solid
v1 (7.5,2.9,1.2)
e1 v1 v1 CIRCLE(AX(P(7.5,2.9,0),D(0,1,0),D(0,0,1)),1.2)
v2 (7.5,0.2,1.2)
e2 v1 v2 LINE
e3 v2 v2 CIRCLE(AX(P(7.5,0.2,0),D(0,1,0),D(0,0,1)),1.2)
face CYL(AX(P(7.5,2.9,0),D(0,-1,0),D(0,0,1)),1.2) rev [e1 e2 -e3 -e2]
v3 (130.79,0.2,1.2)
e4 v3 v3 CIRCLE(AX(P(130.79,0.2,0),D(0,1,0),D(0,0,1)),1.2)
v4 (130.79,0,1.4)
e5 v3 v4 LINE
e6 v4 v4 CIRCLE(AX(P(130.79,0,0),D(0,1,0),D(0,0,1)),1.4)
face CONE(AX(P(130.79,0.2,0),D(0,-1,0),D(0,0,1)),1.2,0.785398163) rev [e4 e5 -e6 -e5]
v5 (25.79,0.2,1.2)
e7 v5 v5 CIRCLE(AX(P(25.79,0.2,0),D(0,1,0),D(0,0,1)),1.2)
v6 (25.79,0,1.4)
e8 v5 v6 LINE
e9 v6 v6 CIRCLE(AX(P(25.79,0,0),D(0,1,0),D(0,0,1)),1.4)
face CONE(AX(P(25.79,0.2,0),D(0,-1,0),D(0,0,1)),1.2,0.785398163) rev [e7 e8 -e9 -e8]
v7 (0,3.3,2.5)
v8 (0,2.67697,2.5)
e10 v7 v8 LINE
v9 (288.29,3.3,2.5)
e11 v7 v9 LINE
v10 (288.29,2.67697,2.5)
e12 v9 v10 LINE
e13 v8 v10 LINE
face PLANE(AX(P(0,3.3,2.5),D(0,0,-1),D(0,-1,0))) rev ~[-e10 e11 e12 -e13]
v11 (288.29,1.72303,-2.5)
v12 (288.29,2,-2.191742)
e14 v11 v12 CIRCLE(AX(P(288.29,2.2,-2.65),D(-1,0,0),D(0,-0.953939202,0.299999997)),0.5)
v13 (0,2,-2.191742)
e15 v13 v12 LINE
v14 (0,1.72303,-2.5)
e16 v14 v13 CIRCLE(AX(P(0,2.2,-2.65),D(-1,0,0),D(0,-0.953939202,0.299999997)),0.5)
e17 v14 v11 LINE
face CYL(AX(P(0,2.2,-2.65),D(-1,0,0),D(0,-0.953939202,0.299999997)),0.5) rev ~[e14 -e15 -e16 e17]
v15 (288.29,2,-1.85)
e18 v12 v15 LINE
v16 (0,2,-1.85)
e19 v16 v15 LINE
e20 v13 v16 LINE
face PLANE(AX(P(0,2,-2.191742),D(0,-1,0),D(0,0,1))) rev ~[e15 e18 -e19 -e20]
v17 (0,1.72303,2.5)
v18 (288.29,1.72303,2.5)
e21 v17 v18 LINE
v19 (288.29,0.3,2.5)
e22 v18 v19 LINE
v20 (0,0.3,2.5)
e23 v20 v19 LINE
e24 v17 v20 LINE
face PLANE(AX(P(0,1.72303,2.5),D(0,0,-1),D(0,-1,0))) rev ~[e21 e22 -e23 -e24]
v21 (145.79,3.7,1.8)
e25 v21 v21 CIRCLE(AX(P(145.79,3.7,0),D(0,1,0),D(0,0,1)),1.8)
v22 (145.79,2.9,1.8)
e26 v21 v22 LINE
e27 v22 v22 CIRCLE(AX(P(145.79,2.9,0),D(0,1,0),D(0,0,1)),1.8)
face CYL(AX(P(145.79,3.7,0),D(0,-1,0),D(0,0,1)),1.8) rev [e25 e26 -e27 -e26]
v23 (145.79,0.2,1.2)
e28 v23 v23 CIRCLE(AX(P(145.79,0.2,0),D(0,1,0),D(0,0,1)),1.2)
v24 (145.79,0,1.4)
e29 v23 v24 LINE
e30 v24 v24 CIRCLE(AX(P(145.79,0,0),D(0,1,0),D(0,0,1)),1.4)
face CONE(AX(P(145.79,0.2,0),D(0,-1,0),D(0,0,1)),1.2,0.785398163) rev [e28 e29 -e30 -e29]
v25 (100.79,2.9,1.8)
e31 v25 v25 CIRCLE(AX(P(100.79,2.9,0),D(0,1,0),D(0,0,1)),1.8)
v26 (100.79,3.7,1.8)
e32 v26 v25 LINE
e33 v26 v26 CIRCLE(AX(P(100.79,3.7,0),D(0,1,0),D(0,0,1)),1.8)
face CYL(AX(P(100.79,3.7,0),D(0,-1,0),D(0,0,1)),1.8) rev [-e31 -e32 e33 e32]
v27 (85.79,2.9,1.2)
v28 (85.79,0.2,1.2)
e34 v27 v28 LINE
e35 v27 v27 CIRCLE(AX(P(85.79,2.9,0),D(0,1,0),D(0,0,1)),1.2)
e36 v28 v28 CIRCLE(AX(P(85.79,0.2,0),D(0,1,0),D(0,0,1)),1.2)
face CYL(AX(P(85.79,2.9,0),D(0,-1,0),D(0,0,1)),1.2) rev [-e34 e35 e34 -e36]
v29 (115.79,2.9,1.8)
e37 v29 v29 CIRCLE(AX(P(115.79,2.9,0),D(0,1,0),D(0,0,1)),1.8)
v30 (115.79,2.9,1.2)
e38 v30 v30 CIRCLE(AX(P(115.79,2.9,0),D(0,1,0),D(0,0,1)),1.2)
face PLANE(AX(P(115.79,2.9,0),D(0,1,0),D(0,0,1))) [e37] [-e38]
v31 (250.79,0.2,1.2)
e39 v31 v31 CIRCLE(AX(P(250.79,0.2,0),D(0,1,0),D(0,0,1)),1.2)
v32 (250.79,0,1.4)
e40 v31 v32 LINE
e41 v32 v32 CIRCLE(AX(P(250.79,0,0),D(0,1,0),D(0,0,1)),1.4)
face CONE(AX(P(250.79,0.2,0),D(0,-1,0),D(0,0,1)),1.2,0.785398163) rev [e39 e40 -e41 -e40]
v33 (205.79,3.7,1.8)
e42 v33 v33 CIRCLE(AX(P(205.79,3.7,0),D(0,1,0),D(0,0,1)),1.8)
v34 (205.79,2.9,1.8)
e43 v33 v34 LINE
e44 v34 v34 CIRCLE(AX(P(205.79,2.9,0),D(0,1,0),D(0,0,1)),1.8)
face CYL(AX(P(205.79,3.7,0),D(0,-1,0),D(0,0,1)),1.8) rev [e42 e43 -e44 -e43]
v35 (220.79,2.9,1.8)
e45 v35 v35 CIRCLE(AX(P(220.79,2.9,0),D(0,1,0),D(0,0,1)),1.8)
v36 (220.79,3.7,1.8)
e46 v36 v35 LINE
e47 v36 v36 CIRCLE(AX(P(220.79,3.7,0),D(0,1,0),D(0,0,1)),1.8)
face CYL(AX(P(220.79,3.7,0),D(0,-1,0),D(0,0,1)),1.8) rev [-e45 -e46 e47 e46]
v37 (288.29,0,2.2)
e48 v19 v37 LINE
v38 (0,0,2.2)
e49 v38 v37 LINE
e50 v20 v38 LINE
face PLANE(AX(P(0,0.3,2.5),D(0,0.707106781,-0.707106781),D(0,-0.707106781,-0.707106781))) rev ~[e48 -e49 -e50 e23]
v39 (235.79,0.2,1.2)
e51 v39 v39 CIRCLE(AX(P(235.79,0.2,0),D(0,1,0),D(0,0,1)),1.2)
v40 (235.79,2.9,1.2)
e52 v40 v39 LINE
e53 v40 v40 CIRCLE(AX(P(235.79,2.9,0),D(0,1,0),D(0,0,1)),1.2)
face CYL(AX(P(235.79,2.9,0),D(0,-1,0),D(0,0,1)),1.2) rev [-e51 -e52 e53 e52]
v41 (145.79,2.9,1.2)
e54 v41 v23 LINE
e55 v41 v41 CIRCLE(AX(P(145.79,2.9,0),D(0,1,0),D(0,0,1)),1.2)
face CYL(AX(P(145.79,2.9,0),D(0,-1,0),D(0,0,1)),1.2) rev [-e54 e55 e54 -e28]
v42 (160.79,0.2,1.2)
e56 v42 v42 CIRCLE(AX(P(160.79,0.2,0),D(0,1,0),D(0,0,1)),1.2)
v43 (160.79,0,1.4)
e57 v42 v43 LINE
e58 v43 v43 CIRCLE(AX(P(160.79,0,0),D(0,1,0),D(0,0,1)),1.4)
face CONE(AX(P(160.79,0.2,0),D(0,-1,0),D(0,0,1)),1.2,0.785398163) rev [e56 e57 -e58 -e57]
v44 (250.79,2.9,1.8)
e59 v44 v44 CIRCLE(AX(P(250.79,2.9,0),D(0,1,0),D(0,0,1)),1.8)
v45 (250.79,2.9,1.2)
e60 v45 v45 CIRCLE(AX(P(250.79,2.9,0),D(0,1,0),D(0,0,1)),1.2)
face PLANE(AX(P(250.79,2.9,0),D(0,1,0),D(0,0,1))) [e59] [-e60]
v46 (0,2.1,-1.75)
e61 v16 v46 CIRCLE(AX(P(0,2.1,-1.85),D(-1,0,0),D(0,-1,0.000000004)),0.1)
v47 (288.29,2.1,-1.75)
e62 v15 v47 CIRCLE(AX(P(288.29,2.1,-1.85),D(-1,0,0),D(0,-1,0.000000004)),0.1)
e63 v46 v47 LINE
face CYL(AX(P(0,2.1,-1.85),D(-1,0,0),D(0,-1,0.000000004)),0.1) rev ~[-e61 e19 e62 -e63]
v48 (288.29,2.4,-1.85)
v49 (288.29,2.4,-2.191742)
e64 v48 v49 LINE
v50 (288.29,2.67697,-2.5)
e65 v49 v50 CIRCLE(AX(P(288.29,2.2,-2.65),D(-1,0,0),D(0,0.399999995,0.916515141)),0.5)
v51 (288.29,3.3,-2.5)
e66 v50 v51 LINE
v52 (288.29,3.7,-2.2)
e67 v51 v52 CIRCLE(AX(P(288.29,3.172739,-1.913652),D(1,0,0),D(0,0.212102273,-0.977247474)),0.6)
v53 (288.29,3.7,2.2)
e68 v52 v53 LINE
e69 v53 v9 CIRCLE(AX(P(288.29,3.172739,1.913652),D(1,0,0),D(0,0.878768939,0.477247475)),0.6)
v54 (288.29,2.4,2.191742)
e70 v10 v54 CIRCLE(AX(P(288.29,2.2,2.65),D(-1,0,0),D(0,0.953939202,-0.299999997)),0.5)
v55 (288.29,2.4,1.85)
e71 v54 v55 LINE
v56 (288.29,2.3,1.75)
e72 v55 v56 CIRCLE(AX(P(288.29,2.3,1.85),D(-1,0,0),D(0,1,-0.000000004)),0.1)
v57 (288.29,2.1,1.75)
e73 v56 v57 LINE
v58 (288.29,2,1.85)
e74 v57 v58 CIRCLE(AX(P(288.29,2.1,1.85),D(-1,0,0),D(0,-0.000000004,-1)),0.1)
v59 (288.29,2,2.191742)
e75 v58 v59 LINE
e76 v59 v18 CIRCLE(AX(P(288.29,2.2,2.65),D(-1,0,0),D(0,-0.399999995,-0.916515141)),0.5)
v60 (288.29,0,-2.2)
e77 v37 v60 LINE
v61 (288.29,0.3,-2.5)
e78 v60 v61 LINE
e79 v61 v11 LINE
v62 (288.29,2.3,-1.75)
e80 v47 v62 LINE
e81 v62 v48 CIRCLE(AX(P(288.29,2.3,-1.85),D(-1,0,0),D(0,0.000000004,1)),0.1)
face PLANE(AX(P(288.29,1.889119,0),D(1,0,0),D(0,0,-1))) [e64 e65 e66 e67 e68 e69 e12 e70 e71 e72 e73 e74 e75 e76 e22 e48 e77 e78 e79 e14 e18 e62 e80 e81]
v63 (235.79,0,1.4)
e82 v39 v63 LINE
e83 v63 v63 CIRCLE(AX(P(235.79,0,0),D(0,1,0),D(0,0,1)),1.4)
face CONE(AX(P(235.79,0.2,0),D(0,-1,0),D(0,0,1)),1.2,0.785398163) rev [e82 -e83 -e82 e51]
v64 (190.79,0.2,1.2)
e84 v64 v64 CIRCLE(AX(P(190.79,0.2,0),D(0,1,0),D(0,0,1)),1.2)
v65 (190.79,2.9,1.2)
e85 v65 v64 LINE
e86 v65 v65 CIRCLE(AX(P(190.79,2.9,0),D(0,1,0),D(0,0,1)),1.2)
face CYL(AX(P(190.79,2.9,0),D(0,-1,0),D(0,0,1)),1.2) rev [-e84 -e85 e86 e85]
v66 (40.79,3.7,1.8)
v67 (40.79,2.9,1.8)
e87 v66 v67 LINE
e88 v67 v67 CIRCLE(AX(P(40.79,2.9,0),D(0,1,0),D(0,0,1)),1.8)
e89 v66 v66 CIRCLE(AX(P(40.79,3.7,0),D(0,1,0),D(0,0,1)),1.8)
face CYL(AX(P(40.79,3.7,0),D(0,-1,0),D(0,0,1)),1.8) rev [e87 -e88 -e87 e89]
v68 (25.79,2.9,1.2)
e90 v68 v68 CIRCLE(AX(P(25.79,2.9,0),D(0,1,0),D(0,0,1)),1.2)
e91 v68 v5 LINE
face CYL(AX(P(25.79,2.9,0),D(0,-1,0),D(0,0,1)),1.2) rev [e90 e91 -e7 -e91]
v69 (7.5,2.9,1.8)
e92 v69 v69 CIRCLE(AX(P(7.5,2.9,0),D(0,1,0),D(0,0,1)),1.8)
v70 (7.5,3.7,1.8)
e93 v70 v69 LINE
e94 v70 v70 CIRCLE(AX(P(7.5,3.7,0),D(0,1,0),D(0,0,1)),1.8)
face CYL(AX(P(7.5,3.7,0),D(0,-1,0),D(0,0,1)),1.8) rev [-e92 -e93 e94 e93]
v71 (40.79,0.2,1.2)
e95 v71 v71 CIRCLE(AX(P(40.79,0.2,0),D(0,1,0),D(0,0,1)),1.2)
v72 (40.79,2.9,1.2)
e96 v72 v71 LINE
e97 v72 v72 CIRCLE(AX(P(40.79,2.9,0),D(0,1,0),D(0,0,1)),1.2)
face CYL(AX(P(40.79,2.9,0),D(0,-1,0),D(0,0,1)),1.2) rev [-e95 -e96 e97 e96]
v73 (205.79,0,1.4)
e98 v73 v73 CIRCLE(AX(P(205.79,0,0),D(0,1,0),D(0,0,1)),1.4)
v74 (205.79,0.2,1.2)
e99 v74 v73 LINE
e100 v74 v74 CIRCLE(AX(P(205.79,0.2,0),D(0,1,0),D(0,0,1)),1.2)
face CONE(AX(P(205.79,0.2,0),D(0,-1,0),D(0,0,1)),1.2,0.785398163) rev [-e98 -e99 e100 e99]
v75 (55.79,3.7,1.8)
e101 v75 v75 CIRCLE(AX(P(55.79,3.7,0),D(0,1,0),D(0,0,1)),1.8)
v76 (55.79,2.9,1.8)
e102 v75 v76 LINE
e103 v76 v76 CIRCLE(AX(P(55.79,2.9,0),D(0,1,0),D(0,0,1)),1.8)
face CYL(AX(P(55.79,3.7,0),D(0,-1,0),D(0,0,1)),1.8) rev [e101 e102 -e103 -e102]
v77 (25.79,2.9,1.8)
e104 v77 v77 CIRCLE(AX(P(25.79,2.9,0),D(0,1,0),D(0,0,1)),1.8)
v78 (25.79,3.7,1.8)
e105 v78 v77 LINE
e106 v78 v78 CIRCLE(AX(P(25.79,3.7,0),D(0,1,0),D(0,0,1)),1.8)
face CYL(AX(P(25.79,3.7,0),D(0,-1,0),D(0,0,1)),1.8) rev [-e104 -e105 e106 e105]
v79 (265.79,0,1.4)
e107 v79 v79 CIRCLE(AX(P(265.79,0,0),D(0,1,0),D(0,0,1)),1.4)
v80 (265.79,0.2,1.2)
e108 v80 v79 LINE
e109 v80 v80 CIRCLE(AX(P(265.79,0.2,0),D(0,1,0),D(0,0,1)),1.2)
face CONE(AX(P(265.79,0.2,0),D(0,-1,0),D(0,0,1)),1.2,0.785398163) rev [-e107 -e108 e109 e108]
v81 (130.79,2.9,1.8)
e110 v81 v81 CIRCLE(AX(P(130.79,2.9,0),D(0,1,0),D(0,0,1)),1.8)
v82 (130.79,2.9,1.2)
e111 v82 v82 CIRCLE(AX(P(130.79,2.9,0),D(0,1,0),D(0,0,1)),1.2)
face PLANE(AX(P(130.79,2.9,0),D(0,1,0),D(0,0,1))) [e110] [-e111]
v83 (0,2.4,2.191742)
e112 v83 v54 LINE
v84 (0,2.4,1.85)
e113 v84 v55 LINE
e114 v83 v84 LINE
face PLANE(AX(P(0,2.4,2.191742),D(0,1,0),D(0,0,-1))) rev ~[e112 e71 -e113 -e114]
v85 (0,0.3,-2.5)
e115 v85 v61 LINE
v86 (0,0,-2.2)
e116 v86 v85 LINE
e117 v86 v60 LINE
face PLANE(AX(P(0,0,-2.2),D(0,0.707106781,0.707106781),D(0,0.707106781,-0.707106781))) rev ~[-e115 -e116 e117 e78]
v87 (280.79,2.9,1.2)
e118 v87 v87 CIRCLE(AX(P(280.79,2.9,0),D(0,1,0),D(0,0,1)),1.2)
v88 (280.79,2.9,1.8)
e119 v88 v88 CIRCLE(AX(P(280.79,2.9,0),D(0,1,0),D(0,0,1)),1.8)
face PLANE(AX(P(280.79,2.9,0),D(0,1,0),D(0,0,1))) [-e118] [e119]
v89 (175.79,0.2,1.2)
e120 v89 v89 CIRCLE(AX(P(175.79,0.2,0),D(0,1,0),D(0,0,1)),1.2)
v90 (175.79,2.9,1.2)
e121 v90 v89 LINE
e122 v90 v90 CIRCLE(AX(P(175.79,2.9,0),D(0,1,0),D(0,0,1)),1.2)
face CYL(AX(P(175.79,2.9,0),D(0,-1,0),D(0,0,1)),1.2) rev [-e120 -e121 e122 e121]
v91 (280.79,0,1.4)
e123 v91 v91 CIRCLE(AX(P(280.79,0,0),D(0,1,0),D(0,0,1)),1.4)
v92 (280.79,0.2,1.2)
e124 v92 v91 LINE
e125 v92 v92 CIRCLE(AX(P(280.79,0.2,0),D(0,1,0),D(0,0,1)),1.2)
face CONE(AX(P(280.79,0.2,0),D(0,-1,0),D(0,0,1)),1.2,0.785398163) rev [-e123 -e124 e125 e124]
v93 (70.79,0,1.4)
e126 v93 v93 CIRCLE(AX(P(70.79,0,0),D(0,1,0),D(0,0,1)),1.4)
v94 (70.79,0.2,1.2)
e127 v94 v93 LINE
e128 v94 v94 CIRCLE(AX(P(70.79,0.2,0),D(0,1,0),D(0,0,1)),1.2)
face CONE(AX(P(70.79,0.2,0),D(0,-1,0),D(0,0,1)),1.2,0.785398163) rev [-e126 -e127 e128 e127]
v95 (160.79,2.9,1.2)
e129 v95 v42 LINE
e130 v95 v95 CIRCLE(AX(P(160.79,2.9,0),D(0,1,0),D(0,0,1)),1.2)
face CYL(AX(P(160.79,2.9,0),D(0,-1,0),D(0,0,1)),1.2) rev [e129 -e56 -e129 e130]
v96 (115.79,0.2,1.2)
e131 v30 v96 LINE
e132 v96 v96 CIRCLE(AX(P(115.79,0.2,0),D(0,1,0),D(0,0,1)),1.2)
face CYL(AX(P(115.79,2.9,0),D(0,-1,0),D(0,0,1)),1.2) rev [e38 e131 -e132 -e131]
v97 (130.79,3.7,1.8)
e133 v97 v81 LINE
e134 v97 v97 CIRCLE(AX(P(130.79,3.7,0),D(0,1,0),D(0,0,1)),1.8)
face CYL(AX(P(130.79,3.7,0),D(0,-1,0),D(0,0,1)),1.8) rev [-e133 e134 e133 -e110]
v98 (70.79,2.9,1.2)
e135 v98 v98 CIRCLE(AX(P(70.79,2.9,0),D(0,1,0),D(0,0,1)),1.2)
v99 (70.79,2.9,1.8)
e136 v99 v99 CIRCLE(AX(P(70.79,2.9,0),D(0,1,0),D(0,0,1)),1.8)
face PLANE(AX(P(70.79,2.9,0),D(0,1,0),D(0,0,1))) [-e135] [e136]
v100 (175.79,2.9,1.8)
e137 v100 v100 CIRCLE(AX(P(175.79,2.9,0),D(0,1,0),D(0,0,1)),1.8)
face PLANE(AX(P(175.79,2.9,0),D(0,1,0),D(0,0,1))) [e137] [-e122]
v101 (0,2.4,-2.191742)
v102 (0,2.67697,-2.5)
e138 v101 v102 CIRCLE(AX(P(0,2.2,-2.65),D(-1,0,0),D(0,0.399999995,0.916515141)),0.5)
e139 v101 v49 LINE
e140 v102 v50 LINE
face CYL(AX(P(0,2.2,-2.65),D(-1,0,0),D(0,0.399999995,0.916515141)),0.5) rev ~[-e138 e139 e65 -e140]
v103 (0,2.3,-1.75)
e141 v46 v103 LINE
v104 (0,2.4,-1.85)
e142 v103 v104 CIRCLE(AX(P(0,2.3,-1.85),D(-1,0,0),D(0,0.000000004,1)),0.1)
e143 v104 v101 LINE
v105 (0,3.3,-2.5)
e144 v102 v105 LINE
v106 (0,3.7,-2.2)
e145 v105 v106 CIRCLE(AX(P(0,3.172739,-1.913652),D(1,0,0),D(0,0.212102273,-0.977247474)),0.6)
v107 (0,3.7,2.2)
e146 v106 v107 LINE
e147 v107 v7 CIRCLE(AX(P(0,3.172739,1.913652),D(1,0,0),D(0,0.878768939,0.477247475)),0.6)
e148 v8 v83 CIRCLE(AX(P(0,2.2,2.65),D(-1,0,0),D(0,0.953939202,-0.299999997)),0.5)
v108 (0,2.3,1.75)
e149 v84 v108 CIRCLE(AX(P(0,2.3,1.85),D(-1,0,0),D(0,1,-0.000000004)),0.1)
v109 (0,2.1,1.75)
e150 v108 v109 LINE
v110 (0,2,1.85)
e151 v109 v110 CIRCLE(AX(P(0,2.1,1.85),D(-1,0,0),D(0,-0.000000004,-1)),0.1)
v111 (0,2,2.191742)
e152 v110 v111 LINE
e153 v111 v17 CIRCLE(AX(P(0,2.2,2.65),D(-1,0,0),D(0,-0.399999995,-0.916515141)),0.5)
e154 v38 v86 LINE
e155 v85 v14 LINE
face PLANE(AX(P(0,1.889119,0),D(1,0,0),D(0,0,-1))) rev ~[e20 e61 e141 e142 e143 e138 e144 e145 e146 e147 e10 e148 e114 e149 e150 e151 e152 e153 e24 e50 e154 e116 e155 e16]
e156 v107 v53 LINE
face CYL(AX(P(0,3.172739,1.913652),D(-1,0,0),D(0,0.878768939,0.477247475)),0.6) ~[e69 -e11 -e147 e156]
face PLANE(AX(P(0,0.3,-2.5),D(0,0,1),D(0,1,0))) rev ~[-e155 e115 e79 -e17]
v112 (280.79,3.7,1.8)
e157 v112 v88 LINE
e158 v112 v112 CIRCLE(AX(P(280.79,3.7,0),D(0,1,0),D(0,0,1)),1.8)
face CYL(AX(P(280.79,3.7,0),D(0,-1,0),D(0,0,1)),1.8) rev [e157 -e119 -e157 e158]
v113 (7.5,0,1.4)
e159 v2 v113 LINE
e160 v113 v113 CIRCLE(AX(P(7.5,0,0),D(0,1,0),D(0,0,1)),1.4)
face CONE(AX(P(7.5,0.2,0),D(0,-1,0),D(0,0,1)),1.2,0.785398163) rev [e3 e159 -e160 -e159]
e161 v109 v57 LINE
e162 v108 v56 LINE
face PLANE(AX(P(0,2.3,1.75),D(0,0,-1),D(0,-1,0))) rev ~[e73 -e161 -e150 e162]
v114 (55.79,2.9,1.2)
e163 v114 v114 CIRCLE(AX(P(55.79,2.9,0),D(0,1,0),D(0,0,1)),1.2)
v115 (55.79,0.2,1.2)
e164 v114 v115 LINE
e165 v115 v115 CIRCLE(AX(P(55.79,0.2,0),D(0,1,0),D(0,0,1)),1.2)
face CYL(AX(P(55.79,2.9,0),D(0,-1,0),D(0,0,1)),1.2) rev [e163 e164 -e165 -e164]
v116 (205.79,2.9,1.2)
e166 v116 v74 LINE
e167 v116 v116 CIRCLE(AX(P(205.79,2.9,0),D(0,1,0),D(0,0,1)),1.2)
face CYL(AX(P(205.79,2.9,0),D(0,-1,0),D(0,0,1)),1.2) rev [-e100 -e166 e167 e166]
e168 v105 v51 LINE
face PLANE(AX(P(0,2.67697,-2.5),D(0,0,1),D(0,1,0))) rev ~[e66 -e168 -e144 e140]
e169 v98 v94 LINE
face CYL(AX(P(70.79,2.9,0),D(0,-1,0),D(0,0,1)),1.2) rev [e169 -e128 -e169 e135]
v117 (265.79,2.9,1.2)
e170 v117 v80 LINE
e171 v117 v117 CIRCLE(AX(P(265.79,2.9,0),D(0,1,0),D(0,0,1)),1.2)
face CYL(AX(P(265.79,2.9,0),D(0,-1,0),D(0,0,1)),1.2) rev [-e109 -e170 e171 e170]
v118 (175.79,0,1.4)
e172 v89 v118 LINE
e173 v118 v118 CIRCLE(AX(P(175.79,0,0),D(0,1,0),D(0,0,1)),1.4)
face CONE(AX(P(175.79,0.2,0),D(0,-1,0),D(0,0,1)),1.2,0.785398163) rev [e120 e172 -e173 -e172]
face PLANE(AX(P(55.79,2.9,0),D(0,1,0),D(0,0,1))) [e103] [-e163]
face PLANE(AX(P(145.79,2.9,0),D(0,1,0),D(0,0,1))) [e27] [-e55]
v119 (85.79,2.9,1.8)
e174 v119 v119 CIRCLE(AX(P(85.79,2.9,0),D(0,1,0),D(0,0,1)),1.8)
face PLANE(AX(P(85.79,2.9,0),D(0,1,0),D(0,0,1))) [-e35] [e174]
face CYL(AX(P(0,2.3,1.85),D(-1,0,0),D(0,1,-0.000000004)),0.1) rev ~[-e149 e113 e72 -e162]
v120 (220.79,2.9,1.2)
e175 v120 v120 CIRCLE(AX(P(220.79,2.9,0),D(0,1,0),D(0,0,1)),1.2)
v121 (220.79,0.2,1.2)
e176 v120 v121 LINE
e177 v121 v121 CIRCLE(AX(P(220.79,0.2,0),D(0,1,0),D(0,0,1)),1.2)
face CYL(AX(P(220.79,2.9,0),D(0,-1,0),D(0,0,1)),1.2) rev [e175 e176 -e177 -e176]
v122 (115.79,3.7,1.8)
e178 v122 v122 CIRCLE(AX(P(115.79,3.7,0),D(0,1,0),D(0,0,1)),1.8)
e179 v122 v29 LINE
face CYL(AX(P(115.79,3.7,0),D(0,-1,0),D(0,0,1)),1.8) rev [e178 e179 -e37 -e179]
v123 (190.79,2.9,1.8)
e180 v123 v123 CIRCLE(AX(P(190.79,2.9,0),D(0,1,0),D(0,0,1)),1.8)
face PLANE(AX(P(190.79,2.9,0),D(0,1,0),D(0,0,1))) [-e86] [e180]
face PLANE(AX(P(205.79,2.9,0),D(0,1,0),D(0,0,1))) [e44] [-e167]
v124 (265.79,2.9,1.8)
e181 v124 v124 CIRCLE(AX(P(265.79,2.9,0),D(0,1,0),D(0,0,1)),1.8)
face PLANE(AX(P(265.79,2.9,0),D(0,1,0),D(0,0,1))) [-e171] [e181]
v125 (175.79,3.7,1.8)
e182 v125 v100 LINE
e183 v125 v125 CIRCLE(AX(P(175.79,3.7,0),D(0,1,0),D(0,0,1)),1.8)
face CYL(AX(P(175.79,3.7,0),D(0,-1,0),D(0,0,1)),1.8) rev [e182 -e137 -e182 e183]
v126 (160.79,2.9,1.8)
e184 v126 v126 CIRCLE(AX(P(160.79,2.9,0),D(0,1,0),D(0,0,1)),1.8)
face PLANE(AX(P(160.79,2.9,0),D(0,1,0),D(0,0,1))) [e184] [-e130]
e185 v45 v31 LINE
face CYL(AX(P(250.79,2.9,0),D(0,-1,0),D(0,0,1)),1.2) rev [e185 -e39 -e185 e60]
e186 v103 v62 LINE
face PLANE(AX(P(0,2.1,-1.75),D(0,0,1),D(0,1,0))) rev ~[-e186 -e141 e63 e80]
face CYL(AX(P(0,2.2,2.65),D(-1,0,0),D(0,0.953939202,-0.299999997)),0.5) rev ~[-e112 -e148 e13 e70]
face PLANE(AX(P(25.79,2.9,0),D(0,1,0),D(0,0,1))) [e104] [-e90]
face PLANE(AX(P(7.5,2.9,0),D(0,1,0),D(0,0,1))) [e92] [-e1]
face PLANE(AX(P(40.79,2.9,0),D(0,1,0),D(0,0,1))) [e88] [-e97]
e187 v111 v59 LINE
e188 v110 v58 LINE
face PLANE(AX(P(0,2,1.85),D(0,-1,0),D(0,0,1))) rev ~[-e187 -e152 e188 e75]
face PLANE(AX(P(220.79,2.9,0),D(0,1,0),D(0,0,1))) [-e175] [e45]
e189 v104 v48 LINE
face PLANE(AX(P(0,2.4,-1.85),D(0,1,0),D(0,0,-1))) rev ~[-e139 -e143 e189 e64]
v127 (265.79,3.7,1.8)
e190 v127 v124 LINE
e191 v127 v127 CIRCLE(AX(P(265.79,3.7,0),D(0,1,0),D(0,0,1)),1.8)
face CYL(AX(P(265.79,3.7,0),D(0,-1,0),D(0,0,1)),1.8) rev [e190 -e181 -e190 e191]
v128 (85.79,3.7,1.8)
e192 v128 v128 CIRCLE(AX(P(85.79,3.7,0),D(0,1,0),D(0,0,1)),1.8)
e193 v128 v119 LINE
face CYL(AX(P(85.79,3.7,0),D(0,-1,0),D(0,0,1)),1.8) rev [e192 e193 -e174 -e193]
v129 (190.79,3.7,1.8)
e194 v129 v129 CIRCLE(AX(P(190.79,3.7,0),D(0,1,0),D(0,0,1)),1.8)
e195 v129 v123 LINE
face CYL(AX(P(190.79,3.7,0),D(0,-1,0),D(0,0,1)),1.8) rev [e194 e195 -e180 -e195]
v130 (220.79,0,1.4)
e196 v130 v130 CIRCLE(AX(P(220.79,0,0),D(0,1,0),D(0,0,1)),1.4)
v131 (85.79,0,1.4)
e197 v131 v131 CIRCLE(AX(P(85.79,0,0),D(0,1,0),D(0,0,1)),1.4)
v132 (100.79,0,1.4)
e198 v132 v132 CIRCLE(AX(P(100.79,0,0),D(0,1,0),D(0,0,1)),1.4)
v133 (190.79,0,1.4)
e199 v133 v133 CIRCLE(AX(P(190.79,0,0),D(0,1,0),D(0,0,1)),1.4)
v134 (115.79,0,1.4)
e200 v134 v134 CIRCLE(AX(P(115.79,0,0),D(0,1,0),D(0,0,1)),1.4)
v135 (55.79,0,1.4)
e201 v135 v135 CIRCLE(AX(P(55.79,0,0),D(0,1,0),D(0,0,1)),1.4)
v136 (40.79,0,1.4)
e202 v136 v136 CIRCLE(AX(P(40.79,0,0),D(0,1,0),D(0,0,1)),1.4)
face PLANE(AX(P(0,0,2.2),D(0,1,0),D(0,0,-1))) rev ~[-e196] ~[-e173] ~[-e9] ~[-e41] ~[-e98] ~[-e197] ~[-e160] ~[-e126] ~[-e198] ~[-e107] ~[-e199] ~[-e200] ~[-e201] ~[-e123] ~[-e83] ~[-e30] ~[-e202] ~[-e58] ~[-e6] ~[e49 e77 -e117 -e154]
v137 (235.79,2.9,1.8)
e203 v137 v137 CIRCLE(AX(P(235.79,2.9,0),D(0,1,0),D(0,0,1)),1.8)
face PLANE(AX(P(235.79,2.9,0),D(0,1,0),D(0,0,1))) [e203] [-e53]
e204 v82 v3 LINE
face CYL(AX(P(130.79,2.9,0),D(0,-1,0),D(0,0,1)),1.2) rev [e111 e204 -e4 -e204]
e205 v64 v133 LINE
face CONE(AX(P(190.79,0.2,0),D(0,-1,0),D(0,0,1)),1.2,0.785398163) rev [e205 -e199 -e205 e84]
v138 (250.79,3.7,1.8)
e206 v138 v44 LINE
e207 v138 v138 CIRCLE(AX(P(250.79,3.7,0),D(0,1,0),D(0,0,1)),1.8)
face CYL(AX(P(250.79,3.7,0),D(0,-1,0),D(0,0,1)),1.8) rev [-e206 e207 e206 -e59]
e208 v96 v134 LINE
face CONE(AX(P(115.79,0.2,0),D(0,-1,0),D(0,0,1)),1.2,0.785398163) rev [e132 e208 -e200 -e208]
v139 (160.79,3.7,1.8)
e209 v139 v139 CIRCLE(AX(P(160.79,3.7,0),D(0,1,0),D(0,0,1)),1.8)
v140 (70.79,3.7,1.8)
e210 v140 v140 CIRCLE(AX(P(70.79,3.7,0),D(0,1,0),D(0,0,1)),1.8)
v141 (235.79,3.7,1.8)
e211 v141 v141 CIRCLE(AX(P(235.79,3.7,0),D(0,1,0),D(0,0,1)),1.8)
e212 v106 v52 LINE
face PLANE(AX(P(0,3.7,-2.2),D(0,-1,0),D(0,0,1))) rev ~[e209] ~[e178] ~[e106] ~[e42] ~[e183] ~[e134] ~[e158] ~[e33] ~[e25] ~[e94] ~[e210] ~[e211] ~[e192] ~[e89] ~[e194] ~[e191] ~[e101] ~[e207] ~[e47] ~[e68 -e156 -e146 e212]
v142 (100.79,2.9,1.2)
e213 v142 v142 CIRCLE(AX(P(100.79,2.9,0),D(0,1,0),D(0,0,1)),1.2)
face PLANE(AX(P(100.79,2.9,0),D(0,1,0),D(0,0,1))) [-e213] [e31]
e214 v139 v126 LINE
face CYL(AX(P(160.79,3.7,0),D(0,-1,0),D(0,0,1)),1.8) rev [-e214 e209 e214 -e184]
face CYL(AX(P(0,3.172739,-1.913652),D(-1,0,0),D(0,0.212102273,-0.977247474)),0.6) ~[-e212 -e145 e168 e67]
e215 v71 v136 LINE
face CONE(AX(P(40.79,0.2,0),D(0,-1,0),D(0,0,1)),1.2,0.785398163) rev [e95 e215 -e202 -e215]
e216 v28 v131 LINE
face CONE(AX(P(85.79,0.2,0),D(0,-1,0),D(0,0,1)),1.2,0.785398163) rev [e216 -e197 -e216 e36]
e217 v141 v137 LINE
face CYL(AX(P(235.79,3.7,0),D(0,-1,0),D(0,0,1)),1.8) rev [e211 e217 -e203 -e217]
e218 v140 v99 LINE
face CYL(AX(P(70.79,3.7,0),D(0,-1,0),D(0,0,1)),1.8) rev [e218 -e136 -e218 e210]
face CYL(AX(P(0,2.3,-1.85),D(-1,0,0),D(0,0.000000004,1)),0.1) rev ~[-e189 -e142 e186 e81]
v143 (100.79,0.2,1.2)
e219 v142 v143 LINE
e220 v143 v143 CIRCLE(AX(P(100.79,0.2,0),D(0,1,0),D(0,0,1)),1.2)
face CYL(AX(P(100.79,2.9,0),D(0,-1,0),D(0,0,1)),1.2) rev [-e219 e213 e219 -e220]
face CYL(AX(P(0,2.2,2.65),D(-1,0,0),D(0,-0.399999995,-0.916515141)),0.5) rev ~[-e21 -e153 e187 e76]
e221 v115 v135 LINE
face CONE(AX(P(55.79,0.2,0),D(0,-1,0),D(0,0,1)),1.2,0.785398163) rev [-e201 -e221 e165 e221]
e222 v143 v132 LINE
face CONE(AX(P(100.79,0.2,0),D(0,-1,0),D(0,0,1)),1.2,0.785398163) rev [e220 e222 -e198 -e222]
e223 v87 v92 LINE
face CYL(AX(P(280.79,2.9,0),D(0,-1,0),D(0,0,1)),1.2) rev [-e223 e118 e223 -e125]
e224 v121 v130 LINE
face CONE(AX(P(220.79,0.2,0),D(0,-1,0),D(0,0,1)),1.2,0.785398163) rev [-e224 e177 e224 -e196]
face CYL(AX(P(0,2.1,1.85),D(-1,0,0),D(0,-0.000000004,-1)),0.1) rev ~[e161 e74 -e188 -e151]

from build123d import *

# Parameters (mm, degrees)
EXTRUDE1_DEPTH  = 288.29
LPATTERN1_COUNT = 18
LPATTERN1_PITCH = 15


with BuildPart() as part:
    # Sketch1 → Extrude1 (new body)
    with BuildSketch(Plane(origin=(0, 0, 0), x_dir=(0, 0, -1), z_dir=(1, 0, 0))):
        with BuildLine():
            Line((-2.5, 0.3), (-2.2, 0))
            Line((-2.2, 0), (2.2, 0))
            Line((2.2, 0), (2.5, 0.3))
            Line((2.5, 0.3), (2.5, 1.723030399))
            ThreePointArc((2.5, 1.723030399), (2.315825857, 1.828075757), (2.191742431, 2))
            Line((2.191742431, 2), (1.85, 2))
            ThreePointArc((1.85, 2), (1.779289322, 2.029289322), (1.75, 2.1))
            Line((1.75, 2.1), (1.75, 2.3))
            ThreePointArc((1.75, 2.3), (1.779289322, 2.370710678), (1.85, 2.4))
            Line((1.85, 2.4), (2.191742431, 2.4))
            ThreePointArc((2.191742431, 2.4), (2.315825857, 2.571924243), (2.5, 2.676969601))
            Line((2.5, 2.676969601), (2.5, 3.3))
            ThreePointArc((2.5, 3.3), (2.393651515, 3.532738637), (2.2, 3.7))
            Line((2.2, 3.7), (-2.2, 3.7))
            ThreePointArc((-2.2, 3.7), (-2.393651515, 3.532738637), (-2.5, 3.3))
            Line((-2.5, 3.3), (-2.5, 2.676969601))
            ThreePointArc((-2.5, 2.676969601), (-2.315825857, 2.571924243), (-2.191742431, 2.4))
            Line((-2.191742431, 2.4), (-1.85, 2.4))
            ThreePointArc((-1.85, 2.4), (-1.779289322, 2.370710678), (-1.75, 2.3))
            Line((-1.75, 2.3), (-1.75, 2.1))
            ThreePointArc((-1.75, 2.1), (-1.779289322, 2.029289322), (-1.85, 2))
            Line((-1.85, 2), (-2.191742431, 2))
            ThreePointArc((-2.191742431, 2), (-2.315825857, 1.828075757), (-2.5, 1.723030399))
            Line((-2.5, 1.723030399), (-2.5, 0.3))
        make_face()
    extrude(amount=EXTRUDE1_DEPTH)

    # Sketch2 → Cut-Revolve1 (revolve, cut)
    with BuildSketch(Plane(origin=(0, 0, 0), x_dir=(-1, 0, 0), z_dir=(0, 0, -1))):
        Polygon((-7.5, 3.7), (-5.7, 3.7), (-5.7, 2.9), (-6.3, 2.9), (-6.3, 0.2), (-6.1, 0), (-7.5, 0), align=None)
    revolve(axis=Axis((7.5, 0, 0), (0, 1, 0)), mode=Mode.SUBTRACT)

    # Sketch3 → Cut-Revolve2 (revolve, cut)
    with BuildSketch(Plane(origin=(45, 0, 0), x_dir=(-1, 0, 0), z_dir=(0, 0, -1))):
        Polygon((-235.79, 3.7), (-233.99, 3.7), (-233.99, 2.9), (-234.59, 2.9), (-234.59, 0.2), (-234.39, 0), (-235.79, 0), align=None)
    cut_revolve2 = revolve(axis=Axis((280.79, 0, 0), (0, 1, 0)), mode=Mode.SUBTRACT)

    # LPattern1: Cut-Revolve2 ×18
    with Locations(*[(-i * LPATTERN1_PITCH, 0, 0) for i in range(1, LPATTERN1_COUNT)]):
        add(cut_revolve2, mode=Mode.SUBTRACT)


solid = part.part
